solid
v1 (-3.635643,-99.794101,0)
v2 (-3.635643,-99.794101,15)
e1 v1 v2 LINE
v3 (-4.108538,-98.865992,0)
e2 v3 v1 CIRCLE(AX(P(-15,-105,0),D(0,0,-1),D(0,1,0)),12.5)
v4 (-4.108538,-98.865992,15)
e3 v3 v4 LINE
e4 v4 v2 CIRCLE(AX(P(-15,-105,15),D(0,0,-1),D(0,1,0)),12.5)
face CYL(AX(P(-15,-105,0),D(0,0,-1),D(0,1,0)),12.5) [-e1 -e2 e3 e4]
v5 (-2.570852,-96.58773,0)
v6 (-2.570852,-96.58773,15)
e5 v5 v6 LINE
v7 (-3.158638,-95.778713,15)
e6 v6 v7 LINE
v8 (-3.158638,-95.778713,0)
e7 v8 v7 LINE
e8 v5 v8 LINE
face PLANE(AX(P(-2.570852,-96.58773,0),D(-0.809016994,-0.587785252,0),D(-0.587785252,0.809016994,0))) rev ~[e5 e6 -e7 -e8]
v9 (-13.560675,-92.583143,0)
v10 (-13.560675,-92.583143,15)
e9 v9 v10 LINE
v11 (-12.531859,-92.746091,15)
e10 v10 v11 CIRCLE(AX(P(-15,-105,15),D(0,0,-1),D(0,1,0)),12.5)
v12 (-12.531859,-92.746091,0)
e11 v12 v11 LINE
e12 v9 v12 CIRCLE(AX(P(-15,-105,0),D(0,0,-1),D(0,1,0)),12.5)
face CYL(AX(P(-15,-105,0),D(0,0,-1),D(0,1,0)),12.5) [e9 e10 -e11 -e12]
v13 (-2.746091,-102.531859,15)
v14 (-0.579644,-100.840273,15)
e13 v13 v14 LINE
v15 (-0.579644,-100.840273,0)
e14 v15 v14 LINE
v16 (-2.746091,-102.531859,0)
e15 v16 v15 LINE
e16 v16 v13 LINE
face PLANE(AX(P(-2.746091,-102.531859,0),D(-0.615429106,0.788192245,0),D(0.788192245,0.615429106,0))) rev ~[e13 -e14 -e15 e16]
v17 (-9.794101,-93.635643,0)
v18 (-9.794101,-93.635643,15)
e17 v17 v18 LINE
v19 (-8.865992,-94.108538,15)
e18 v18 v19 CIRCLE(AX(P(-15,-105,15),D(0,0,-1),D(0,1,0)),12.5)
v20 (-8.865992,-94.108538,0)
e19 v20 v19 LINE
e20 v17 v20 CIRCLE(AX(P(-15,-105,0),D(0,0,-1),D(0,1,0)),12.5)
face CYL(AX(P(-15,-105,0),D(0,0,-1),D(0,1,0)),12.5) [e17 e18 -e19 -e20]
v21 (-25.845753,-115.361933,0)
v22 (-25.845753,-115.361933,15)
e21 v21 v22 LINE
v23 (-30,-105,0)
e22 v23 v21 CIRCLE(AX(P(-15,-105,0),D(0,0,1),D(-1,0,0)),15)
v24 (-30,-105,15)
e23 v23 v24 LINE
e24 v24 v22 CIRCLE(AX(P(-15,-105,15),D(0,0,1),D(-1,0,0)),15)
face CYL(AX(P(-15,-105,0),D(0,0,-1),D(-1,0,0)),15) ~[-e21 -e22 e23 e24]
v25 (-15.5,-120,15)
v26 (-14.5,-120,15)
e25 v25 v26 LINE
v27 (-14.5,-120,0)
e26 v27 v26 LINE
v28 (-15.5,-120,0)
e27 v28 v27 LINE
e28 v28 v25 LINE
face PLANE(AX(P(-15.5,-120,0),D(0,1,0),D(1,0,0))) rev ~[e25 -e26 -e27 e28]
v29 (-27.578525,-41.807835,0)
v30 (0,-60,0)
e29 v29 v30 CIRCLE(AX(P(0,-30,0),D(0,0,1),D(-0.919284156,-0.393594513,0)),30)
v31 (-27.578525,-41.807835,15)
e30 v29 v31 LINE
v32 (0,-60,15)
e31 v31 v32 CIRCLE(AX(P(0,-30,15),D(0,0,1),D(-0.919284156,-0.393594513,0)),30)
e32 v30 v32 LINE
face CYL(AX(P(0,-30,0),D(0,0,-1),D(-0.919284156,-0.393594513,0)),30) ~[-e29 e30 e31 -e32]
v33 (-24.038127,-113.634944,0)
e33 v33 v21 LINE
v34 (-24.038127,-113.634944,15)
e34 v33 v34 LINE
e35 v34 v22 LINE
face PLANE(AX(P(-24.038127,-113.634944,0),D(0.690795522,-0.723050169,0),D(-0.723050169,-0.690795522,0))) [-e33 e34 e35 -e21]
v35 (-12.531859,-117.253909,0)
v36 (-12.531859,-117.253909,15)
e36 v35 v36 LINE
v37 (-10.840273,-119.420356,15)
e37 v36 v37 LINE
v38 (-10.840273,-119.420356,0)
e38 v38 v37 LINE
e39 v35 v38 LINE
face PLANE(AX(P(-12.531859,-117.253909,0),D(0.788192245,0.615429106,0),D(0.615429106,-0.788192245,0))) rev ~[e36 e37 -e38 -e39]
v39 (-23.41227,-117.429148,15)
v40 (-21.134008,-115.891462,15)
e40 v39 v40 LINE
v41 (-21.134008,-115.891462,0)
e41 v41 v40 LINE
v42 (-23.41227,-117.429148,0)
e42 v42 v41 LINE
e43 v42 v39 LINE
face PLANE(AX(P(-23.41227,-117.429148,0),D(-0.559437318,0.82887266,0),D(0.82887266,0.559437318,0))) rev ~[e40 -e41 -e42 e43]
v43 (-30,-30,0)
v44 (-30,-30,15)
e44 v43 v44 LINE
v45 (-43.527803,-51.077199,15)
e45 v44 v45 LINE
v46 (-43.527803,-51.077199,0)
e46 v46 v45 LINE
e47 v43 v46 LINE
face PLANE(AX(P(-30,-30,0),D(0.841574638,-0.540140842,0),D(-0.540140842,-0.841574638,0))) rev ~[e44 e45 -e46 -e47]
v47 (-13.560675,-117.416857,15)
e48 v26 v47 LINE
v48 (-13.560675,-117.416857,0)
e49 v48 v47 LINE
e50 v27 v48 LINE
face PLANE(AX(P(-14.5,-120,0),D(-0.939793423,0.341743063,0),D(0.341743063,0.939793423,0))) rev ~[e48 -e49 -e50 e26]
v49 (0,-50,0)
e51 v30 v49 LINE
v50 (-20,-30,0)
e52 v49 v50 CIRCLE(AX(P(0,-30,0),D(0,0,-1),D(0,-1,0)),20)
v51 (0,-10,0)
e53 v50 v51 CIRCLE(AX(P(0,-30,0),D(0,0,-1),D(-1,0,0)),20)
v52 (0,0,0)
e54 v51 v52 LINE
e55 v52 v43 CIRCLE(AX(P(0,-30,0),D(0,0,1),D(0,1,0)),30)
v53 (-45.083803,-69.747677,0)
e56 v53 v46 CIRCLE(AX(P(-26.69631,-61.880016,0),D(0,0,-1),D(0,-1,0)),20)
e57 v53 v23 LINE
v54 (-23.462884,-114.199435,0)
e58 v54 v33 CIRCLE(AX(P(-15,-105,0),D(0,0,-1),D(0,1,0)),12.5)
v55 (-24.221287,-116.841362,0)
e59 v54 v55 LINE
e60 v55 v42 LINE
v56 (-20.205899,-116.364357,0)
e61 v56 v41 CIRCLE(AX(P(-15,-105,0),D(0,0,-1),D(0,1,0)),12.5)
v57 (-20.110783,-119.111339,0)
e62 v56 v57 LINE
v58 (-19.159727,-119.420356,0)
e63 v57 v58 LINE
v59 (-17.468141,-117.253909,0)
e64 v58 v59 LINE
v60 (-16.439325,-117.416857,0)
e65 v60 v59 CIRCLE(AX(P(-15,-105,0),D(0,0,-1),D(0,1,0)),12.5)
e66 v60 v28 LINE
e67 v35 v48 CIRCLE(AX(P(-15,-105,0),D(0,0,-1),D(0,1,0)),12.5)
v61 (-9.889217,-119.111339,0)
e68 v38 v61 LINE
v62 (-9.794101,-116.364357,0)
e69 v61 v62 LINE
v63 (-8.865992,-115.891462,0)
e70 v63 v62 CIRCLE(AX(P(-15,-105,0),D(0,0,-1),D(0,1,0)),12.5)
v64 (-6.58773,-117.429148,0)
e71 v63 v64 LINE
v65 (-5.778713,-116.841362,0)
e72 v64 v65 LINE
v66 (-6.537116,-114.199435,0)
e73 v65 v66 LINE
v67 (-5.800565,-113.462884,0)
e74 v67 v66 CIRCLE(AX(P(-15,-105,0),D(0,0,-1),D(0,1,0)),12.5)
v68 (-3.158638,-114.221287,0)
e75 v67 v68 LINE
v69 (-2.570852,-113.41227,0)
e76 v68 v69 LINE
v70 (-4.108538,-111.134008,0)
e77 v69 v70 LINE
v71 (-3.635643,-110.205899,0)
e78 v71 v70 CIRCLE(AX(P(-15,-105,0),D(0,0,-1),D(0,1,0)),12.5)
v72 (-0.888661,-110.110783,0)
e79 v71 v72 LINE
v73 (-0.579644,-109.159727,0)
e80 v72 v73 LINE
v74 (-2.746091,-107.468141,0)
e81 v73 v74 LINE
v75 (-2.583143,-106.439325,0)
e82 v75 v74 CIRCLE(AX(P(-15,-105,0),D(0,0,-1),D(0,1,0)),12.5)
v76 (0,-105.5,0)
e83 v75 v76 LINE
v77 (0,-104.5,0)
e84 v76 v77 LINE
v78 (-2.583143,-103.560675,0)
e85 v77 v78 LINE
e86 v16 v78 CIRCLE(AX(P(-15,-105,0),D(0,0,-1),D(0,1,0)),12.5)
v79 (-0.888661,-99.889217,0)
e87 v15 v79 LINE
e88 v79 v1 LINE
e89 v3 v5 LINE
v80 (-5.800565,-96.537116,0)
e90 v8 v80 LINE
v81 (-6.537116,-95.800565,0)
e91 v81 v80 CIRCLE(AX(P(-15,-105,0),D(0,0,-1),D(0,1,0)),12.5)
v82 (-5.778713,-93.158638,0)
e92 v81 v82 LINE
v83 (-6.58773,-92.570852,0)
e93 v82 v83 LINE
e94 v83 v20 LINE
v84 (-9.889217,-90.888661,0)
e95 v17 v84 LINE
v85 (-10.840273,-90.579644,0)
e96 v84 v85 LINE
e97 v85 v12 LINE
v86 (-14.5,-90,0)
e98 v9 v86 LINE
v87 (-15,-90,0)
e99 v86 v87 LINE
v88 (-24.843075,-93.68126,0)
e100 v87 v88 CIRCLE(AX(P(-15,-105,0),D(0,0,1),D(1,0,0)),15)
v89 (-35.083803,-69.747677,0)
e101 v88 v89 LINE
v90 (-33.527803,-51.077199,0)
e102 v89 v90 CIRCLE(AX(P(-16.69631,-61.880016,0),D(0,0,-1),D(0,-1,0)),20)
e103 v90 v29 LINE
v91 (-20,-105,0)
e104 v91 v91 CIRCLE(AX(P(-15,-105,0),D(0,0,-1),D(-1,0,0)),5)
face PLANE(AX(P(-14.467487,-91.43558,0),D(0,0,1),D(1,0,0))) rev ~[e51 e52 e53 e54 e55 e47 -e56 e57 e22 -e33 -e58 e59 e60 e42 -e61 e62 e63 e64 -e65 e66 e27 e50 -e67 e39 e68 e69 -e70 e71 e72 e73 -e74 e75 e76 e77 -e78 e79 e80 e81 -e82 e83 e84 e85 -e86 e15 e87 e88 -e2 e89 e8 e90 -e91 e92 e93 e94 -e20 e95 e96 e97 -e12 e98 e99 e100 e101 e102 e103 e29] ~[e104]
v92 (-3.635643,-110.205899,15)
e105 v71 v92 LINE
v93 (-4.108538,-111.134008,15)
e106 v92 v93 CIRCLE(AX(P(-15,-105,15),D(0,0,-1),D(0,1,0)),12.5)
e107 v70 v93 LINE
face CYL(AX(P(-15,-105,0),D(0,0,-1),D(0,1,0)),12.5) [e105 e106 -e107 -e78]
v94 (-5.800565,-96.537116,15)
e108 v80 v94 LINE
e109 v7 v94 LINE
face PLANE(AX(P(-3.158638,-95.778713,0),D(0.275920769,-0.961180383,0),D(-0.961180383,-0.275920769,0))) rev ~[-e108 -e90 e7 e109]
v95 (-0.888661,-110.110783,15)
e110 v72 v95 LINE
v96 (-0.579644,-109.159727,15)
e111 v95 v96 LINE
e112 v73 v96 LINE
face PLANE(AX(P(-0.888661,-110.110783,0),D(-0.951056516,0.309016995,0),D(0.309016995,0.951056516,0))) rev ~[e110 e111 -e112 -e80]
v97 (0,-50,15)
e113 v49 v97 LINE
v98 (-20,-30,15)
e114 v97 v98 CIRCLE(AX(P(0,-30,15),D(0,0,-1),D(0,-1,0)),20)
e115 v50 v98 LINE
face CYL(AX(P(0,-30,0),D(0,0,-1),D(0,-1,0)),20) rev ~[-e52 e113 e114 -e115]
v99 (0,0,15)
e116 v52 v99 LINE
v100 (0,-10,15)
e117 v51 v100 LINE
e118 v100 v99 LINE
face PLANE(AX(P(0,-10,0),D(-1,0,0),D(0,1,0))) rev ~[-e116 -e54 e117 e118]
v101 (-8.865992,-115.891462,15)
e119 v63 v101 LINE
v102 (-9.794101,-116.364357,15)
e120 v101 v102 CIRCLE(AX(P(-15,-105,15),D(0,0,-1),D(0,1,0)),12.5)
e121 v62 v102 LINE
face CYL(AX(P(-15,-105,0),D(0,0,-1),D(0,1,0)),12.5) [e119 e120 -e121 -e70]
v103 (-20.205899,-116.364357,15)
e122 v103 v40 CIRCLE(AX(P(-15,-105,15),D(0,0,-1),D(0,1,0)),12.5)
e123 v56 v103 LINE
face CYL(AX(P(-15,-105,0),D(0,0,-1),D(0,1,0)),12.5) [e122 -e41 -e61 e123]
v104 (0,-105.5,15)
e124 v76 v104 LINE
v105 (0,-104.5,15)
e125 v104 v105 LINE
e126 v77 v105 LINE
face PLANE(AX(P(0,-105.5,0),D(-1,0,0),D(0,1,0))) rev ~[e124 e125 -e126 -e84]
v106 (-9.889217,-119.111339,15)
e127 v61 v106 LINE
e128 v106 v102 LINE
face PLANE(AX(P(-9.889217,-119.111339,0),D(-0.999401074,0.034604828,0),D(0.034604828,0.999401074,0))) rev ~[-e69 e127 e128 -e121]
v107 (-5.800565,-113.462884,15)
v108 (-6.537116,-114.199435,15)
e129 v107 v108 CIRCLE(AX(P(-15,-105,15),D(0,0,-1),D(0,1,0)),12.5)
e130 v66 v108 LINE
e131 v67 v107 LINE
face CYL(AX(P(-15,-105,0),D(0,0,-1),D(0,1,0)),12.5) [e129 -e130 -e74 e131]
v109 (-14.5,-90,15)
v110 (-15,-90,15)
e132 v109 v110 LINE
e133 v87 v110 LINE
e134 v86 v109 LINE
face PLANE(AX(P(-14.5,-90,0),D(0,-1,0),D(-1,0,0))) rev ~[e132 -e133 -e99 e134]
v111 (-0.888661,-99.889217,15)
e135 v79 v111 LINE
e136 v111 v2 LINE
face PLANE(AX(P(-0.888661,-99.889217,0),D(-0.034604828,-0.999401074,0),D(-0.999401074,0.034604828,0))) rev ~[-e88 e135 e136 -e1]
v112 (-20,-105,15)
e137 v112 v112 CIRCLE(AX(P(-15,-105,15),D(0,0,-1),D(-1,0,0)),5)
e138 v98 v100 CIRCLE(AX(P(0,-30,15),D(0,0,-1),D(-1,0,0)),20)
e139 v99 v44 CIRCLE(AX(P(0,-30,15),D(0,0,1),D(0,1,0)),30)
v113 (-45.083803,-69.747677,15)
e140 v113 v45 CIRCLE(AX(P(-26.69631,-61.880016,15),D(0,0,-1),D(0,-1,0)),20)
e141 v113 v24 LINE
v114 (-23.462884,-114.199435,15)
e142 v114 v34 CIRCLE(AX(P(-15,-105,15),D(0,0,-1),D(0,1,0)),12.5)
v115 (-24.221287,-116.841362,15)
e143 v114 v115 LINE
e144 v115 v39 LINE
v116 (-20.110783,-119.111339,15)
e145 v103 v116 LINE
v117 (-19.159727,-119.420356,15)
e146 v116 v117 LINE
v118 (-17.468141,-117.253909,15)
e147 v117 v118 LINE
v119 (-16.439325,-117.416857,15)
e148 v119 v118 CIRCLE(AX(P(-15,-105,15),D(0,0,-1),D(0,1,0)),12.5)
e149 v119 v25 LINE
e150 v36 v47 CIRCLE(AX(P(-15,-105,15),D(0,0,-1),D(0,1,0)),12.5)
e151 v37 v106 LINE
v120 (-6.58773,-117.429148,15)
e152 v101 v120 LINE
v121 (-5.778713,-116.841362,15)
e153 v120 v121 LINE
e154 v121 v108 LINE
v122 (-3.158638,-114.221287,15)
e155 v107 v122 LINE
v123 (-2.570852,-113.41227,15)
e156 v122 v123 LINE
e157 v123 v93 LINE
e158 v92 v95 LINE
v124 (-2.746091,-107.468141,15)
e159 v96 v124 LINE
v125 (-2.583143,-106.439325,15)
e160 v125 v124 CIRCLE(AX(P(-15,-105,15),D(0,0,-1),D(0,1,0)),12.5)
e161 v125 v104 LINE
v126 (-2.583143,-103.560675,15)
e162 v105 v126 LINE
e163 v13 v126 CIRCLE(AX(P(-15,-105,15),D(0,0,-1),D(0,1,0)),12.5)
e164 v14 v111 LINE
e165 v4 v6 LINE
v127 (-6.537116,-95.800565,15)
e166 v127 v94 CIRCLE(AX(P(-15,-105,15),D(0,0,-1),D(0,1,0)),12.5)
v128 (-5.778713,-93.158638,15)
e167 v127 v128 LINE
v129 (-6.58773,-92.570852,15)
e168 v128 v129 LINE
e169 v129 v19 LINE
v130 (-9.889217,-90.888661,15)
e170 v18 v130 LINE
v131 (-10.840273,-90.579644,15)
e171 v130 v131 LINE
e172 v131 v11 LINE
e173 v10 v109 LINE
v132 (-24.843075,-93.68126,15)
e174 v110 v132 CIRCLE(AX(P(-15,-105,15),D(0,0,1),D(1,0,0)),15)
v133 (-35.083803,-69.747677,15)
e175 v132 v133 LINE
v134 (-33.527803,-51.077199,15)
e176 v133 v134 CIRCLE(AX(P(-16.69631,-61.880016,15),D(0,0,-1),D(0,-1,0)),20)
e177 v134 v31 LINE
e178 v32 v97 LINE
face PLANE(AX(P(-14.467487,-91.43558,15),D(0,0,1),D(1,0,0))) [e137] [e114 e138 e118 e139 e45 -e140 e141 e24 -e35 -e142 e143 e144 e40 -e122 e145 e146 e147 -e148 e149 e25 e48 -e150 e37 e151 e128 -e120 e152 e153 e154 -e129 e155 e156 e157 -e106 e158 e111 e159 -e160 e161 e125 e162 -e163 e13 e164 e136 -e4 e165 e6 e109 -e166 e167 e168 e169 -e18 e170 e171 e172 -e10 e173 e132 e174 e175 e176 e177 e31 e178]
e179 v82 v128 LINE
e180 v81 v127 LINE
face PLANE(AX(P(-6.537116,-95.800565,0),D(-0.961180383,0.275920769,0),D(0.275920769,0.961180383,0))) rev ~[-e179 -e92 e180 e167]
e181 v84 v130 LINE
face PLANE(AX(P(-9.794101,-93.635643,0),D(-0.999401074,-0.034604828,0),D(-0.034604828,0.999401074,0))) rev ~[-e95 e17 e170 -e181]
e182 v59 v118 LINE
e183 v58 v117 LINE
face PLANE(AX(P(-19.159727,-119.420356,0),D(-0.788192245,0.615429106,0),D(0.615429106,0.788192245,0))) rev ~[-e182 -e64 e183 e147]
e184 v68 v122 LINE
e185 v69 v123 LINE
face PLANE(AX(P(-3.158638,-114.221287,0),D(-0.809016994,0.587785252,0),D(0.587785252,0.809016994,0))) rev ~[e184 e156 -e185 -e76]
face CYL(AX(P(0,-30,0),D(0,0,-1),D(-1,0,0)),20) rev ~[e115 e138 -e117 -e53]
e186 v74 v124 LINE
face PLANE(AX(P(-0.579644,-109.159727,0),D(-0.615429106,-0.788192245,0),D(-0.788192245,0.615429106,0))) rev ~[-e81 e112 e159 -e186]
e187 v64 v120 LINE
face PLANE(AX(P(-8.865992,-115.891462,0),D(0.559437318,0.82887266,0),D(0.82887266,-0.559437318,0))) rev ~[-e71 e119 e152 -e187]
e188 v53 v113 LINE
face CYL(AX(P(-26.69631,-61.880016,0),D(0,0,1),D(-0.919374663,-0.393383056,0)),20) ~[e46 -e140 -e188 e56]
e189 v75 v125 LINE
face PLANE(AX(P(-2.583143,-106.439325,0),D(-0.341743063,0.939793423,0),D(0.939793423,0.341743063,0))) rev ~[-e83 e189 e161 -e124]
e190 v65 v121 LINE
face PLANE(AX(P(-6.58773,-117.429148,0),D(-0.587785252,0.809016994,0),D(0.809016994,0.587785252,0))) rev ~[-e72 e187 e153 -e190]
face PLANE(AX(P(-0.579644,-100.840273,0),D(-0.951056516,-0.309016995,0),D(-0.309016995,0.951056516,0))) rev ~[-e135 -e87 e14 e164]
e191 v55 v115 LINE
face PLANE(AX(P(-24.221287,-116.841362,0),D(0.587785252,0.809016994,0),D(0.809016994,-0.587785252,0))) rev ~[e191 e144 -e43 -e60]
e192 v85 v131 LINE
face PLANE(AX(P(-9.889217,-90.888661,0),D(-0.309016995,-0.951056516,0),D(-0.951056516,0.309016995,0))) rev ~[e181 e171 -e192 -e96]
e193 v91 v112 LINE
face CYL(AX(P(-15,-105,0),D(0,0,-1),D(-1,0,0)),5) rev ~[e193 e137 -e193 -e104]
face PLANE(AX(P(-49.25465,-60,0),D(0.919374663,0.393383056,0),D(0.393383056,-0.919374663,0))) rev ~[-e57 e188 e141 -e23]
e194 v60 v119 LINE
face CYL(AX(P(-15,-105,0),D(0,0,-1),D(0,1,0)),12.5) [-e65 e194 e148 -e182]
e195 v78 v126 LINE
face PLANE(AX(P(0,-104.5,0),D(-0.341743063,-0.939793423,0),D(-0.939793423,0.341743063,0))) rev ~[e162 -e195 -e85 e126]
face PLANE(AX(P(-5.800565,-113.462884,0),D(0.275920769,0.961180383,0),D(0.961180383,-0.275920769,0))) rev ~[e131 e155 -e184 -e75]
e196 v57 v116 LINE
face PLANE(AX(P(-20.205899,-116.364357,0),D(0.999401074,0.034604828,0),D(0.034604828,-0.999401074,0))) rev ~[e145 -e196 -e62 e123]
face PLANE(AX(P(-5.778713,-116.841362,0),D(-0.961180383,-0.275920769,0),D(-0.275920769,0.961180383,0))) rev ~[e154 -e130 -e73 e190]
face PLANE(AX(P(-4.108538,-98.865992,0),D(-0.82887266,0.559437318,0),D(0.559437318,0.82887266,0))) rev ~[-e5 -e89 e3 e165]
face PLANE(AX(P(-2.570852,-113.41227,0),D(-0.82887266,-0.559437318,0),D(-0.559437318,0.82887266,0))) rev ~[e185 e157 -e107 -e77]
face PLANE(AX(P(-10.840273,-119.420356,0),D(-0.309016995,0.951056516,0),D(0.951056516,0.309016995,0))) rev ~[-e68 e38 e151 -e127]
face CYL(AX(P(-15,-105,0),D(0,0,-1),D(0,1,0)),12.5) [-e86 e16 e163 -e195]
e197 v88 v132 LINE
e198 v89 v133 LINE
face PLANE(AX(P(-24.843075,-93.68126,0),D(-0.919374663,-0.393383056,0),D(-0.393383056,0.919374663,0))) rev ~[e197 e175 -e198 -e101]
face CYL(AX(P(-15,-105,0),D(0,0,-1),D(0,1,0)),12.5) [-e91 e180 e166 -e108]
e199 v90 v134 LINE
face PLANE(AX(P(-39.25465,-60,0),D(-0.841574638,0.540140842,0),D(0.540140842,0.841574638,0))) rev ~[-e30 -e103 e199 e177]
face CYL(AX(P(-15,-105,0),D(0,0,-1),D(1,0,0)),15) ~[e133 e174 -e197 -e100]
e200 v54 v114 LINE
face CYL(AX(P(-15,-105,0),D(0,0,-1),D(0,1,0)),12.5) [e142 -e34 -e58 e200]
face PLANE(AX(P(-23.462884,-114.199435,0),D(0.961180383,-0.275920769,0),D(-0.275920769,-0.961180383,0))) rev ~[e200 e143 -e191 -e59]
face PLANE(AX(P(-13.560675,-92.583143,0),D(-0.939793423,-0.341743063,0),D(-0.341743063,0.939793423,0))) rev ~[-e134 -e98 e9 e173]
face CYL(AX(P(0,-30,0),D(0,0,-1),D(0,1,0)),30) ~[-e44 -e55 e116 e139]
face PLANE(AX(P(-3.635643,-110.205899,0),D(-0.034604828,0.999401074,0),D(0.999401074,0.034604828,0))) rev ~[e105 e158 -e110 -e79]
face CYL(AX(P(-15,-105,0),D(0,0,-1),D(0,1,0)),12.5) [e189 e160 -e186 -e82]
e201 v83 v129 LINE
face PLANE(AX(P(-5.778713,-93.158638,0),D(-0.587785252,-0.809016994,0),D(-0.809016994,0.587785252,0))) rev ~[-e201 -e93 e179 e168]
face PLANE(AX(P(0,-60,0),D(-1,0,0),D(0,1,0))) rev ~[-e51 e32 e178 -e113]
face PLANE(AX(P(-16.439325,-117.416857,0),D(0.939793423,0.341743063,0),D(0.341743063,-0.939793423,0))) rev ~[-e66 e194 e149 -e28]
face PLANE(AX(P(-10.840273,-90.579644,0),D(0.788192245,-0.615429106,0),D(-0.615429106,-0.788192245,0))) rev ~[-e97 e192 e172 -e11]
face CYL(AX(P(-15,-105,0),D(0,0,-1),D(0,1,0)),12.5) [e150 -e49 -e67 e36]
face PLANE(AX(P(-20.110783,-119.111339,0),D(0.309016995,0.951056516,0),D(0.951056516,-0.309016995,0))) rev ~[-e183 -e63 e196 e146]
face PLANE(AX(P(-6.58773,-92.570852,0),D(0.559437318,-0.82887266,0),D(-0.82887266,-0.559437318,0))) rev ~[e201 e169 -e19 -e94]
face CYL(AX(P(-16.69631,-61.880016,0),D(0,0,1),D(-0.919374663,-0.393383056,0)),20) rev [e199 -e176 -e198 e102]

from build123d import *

# Parameters (mm, degrees)
BOSS_EXTRUDE1_DEPTH = 15
FILLET1_R           = 20
CUT_EXTRUDE1_START  = -15
CUT_EXTRUDE1_DEPTH  = 15
BOSS_EXTRUDE2_START = -15
BOSS_EXTRUDE2_DEPTH = 15


with BuildPart() as part:
    # Sketch1 → Boss-Extrude1 (new body)
    # profile 1 of 6: a face of its own
    with BuildSketch(Plane.XY):
        with BuildLine():
            Line((-20, -30), (-30, -30))
            ThreePointArc((-30, -30), (-29.388396861, -36.026784376), (-27.578524672, -41.807835403))
            Line((-27.578524672, -41.807835403), (-20, -30))
        make_face()
    # profile 2 of 6: a face of its own
    with BuildSketch(Plane.XY):
        with BuildLine():
            Line((0, -10), (0, 0))
            ThreePointArc((0, 0), (-21.213203436, -8.786796564), (-30, -30))
            Line((-30, -30), (-20, -30))
            ThreePointArc((-20, -30), (-14.142135624, -15.857864376), (0, -10))
        make_face()
    # profile 3 of 6: a face of its own
    with BuildSketch(Plane.XY):
        with BuildLine():
            Line((0, -60), (0, -50))
            ThreePointArc((0, -50), (-14.142135624, -44.142135624), (-20, -30))
            Line((-20, -30), (-27.578524672, -41.807835403))
            ThreePointArc((-27.578524672, -41.807835403), (-16.519154608, -55.04231481), (0, -60))
        make_face()
    # profile 4 of 6: a face of its own
    with BuildSketch(Plane.XY):
        with BuildLine():
            ThreePointArc((-27.578524672, -41.807835403), (-29.388396861, -36.026784376), (-30, -30))
            Line((-30, -30), (-49.254650189, -60))
            Line((-49.254650189, -60), (-30, -105))
            ThreePointArc((-30, -105), (-28.650020621, -98.780921528), (-24.84307506, -93.681260081))
            Line((-24.84307506, -93.681260081), (-39.254650189, -60))
            Line((-39.254650189, -60), (-27.578524672, -41.807835403))
        make_face()
    # profile 5 of 6: a face of its own
    with BuildSketch(Plane.XY):
        with BuildLine():
            ThreePointArc((-24.84307506, -93.681260081), (-28.650020621, -98.780921528), (-30, -105))
            Line((-30, -105), (-20, -105))
            Line((-20, -105), (-24.84307506, -93.681260081))
        make_face()
    # profile 6 of 6: a face of its own
    with BuildSketch(Plane.XY):
        with BuildLine():
            Line((-20, -105), (-30, -105))
            ThreePointArc((-30, -105), (-15, -120), (0, -105))
            ThreePointArc((0, -105), (-8.780921528, -91.349979379), (-24.84307506, -93.681260081))
            Line((-24.84307506, -93.681260081), (-20, -105))
        make_face()
        with BuildLine():
            ThreePointArc((-10, -105), (-15, -110), (-20, -105))
            ThreePointArc((-20, -105), (-15, -100), (-10, -105))
        make_face(mode=Mode.SUBTRACT)
    extrude(amount=BOSS_EXTRUDE1_DEPTH)

    # Fillet1
    fillet1_edges = [part.edges().sort_by_distance(p)[0] for p in [
        (-39.254650189, -60, 7.5),
        (-49.254650189, -60, 7.5),
    ]]
    fillet(fillet1_edges, radius=FILLET1_R)

    # Sketch2 → Cut-Extrude1 (cut)
    with BuildSketch(Plane.XY.offset(15).offset(CUT_EXTRUDE1_START)):
        with BuildLine():
            Line((-15, -90), (-15, -92.5))
            ThreePointArc((-15, -92.5), (-3.506810704, -109.914936399), (-24.038127106, -113.634944031))
            Line((-24.038127106, -113.634944031), (-25.845752528, -115.361932837))
            ThreePointArc((-25.845752528, -115.361932837), (-1.208172845, -110.897923679), (-15, -90))
        make_face()
    extrude(amount=CUT_EXTRUDE1_DEPTH, mode=Mode.SUBTRACT)

    # Sketch3 → Boss-Extrude2 (add)
    with BuildSketch(Plane.XY.offset(15).offset(BOSS_EXTRUDE2_START)):
        with BuildLine():
            Line((-14.5, -90), (-15, -90))
            Line((-15, -90), (-15, -92.5))
            ThreePointArc((-15, -92.5), (-14.279138, -92.520802992), (-13.560675373, -92.583142724))
            Line((-13.560675373, -92.583142724), (-14.5, -90))
        make_face()
        with BuildLine():
            Line((-10.840273343, -90.579643758), (-12.53185915, -92.746091205))
            ThreePointArc((-12.53185915, -92.746091205), (-11.13728757, -93.111793546), (-9.79410102, -93.635642746))
            Line((-9.79410102, -93.635642746), (-9.889216826, -90.888660753))
            Line((-9.889216826, -90.888660753), (-10.840273343, -90.579643758))
        make_face()
        with BuildLine():
            Line((-6.587729713, -92.570852458), (-8.865992497, -94.108537658))
            ThreePointArc((-8.865992497, -94.108537658), (-7.652684346, -94.88728757), (-6.53711633, -95.800565236))
            Line((-6.53711633, -95.800565236), (-5.778712718, -93.158637711))
            Line((-5.778712718, -93.158637711), (-6.587729713, -92.570852458))
        make_face()
        with BuildLine():
            Line((-3.158637711, -95.778712718), (-5.800565236, -96.53711633))
            ThreePointArc((-5.800565236, -96.53711633), (-4.88728757, -97.652684346), (-4.108537658, -98.865992497))
            Line((-4.108537658, -98.865992497), (-2.570852458, -96.587729713))
            Line((-2.570852458, -96.587729713), (-3.158637711, -95.778712718))
        make_face()
        with BuildLine():
            Line((-0.888660753, -99.889216826), (-3.635642746, -99.79410102))
            ThreePointArc((-3.635642746, -99.79410102), (-3.111793546, -101.13728757), (-2.746091205, -102.53185915))
            Line((-2.746091205, -102.53185915), (-0.579643758, -100.840273343))
            Line((-0.579643758, -100.840273343), (-0.888660753, -99.889216826))
        make_face()
        with BuildLine():
            Line((0, -104.5), (-2.583142724, -103.560675373))
            ThreePointArc((-2.583142724, -103.560675373), (-2.5, -105), (-2.583142724, -106.439324627))
            Line((-2.583142724, -106.439324627), (0, -105.5))
            Line((0, -105.5), (0, -104.5))
        make_face()
        with BuildLine():
            Line((-0.579643758, -109.159726657), (-2.746091205, -107.46814085))
            ThreePointArc((-2.746091205, -107.46814085), (-3.111793546, -108.86271243), (-3.635642746, -110.20589898))
            Line((-3.635642746, -110.20589898), (-0.888660753, -110.110783174))
            Line((-0.888660753, -110.110783174), (-0.579643758, -109.159726657))
        make_face()
        with BuildLine():
            ThreePointArc((-21.134007503, -115.891462342), (-22.347315654, -115.11271243), (-23.46288367, -114.199434764))
            Line((-23.46288367, -114.199434764), (-24.221287282, -116.841362289))
            Line((-24.221287282, -116.841362289), (-23.412270287, -117.429147542))
            Line((-23.412270287, -117.429147542), (-21.134007503, -115.891462342))
        make_face()
        with BuildLine():
            Line((-2.570852458, -113.412270287), (-4.108537658, -111.134007503))
            ThreePointArc((-4.108537658, -111.134007503), (-4.88728757, -112.347315654), (-5.800565236, -113.46288367))
            Line((-5.800565236, -113.46288367), (-3.158637711, -114.221287282))
            Line((-3.158637711, -114.221287282), (-2.570852458, -113.412270287))
        make_face()
        with BuildLine():
            ThreePointArc((-17.46814085, -117.253908795), (-18.86271243, -116.888206454), (-20.20589898, -116.364357254))
            Line((-20.20589898, -116.364357254), (-20.110783174, -119.111339247))
            Line((-20.110783174, -119.111339247), (-19.159726657, -119.420356242))
            Line((-19.159726657, -119.420356242), (-17.46814085, -117.253908795))
        make_face()
        with BuildLine():
            Line((-5.778712718, -116.841362289), (-6.53711633, -114.199434764))
            ThreePointArc((-6.53711633, -114.199434764), (-7.652684346, -115.11271243), (-8.865992497, -115.891462342))
            Line((-8.865992497, -115.891462342), (-6.587729713, -117.429147542))
            Line((-6.587729713, -117.429147542), (-5.778712718, -116.841362289))
        make_face()
        with BuildLine():
            ThreePointArc((-13.560675373, -117.416857276), (-15, -117.5), (-16.439324627, -117.416857276))
            Line((-16.439324627, -117.416857276), (-15.5, -120))
            Line((-15.5, -120), (-14.5, -120))
            Line((-14.5, -120), (-13.560675373, -117.416857276))
        make_face()
        with BuildLine():
            Line((-9.889216826, -119.111339247), (-9.79410102, -116.364357254))
            ThreePointArc((-9.79410102, -116.364357254), (-11.13728757, -116.888206454), (-12.53185915, -117.253908795))
            Line((-12.53185915, -117.253908795), (-10.840273343, -119.420356242))
            Line((-10.840273343, -119.420356242), (-9.889216826, -119.111339247))
        make_face()
    extrude(amount=BOSS_EXTRUDE2_DEPTH)


solid = part.part
